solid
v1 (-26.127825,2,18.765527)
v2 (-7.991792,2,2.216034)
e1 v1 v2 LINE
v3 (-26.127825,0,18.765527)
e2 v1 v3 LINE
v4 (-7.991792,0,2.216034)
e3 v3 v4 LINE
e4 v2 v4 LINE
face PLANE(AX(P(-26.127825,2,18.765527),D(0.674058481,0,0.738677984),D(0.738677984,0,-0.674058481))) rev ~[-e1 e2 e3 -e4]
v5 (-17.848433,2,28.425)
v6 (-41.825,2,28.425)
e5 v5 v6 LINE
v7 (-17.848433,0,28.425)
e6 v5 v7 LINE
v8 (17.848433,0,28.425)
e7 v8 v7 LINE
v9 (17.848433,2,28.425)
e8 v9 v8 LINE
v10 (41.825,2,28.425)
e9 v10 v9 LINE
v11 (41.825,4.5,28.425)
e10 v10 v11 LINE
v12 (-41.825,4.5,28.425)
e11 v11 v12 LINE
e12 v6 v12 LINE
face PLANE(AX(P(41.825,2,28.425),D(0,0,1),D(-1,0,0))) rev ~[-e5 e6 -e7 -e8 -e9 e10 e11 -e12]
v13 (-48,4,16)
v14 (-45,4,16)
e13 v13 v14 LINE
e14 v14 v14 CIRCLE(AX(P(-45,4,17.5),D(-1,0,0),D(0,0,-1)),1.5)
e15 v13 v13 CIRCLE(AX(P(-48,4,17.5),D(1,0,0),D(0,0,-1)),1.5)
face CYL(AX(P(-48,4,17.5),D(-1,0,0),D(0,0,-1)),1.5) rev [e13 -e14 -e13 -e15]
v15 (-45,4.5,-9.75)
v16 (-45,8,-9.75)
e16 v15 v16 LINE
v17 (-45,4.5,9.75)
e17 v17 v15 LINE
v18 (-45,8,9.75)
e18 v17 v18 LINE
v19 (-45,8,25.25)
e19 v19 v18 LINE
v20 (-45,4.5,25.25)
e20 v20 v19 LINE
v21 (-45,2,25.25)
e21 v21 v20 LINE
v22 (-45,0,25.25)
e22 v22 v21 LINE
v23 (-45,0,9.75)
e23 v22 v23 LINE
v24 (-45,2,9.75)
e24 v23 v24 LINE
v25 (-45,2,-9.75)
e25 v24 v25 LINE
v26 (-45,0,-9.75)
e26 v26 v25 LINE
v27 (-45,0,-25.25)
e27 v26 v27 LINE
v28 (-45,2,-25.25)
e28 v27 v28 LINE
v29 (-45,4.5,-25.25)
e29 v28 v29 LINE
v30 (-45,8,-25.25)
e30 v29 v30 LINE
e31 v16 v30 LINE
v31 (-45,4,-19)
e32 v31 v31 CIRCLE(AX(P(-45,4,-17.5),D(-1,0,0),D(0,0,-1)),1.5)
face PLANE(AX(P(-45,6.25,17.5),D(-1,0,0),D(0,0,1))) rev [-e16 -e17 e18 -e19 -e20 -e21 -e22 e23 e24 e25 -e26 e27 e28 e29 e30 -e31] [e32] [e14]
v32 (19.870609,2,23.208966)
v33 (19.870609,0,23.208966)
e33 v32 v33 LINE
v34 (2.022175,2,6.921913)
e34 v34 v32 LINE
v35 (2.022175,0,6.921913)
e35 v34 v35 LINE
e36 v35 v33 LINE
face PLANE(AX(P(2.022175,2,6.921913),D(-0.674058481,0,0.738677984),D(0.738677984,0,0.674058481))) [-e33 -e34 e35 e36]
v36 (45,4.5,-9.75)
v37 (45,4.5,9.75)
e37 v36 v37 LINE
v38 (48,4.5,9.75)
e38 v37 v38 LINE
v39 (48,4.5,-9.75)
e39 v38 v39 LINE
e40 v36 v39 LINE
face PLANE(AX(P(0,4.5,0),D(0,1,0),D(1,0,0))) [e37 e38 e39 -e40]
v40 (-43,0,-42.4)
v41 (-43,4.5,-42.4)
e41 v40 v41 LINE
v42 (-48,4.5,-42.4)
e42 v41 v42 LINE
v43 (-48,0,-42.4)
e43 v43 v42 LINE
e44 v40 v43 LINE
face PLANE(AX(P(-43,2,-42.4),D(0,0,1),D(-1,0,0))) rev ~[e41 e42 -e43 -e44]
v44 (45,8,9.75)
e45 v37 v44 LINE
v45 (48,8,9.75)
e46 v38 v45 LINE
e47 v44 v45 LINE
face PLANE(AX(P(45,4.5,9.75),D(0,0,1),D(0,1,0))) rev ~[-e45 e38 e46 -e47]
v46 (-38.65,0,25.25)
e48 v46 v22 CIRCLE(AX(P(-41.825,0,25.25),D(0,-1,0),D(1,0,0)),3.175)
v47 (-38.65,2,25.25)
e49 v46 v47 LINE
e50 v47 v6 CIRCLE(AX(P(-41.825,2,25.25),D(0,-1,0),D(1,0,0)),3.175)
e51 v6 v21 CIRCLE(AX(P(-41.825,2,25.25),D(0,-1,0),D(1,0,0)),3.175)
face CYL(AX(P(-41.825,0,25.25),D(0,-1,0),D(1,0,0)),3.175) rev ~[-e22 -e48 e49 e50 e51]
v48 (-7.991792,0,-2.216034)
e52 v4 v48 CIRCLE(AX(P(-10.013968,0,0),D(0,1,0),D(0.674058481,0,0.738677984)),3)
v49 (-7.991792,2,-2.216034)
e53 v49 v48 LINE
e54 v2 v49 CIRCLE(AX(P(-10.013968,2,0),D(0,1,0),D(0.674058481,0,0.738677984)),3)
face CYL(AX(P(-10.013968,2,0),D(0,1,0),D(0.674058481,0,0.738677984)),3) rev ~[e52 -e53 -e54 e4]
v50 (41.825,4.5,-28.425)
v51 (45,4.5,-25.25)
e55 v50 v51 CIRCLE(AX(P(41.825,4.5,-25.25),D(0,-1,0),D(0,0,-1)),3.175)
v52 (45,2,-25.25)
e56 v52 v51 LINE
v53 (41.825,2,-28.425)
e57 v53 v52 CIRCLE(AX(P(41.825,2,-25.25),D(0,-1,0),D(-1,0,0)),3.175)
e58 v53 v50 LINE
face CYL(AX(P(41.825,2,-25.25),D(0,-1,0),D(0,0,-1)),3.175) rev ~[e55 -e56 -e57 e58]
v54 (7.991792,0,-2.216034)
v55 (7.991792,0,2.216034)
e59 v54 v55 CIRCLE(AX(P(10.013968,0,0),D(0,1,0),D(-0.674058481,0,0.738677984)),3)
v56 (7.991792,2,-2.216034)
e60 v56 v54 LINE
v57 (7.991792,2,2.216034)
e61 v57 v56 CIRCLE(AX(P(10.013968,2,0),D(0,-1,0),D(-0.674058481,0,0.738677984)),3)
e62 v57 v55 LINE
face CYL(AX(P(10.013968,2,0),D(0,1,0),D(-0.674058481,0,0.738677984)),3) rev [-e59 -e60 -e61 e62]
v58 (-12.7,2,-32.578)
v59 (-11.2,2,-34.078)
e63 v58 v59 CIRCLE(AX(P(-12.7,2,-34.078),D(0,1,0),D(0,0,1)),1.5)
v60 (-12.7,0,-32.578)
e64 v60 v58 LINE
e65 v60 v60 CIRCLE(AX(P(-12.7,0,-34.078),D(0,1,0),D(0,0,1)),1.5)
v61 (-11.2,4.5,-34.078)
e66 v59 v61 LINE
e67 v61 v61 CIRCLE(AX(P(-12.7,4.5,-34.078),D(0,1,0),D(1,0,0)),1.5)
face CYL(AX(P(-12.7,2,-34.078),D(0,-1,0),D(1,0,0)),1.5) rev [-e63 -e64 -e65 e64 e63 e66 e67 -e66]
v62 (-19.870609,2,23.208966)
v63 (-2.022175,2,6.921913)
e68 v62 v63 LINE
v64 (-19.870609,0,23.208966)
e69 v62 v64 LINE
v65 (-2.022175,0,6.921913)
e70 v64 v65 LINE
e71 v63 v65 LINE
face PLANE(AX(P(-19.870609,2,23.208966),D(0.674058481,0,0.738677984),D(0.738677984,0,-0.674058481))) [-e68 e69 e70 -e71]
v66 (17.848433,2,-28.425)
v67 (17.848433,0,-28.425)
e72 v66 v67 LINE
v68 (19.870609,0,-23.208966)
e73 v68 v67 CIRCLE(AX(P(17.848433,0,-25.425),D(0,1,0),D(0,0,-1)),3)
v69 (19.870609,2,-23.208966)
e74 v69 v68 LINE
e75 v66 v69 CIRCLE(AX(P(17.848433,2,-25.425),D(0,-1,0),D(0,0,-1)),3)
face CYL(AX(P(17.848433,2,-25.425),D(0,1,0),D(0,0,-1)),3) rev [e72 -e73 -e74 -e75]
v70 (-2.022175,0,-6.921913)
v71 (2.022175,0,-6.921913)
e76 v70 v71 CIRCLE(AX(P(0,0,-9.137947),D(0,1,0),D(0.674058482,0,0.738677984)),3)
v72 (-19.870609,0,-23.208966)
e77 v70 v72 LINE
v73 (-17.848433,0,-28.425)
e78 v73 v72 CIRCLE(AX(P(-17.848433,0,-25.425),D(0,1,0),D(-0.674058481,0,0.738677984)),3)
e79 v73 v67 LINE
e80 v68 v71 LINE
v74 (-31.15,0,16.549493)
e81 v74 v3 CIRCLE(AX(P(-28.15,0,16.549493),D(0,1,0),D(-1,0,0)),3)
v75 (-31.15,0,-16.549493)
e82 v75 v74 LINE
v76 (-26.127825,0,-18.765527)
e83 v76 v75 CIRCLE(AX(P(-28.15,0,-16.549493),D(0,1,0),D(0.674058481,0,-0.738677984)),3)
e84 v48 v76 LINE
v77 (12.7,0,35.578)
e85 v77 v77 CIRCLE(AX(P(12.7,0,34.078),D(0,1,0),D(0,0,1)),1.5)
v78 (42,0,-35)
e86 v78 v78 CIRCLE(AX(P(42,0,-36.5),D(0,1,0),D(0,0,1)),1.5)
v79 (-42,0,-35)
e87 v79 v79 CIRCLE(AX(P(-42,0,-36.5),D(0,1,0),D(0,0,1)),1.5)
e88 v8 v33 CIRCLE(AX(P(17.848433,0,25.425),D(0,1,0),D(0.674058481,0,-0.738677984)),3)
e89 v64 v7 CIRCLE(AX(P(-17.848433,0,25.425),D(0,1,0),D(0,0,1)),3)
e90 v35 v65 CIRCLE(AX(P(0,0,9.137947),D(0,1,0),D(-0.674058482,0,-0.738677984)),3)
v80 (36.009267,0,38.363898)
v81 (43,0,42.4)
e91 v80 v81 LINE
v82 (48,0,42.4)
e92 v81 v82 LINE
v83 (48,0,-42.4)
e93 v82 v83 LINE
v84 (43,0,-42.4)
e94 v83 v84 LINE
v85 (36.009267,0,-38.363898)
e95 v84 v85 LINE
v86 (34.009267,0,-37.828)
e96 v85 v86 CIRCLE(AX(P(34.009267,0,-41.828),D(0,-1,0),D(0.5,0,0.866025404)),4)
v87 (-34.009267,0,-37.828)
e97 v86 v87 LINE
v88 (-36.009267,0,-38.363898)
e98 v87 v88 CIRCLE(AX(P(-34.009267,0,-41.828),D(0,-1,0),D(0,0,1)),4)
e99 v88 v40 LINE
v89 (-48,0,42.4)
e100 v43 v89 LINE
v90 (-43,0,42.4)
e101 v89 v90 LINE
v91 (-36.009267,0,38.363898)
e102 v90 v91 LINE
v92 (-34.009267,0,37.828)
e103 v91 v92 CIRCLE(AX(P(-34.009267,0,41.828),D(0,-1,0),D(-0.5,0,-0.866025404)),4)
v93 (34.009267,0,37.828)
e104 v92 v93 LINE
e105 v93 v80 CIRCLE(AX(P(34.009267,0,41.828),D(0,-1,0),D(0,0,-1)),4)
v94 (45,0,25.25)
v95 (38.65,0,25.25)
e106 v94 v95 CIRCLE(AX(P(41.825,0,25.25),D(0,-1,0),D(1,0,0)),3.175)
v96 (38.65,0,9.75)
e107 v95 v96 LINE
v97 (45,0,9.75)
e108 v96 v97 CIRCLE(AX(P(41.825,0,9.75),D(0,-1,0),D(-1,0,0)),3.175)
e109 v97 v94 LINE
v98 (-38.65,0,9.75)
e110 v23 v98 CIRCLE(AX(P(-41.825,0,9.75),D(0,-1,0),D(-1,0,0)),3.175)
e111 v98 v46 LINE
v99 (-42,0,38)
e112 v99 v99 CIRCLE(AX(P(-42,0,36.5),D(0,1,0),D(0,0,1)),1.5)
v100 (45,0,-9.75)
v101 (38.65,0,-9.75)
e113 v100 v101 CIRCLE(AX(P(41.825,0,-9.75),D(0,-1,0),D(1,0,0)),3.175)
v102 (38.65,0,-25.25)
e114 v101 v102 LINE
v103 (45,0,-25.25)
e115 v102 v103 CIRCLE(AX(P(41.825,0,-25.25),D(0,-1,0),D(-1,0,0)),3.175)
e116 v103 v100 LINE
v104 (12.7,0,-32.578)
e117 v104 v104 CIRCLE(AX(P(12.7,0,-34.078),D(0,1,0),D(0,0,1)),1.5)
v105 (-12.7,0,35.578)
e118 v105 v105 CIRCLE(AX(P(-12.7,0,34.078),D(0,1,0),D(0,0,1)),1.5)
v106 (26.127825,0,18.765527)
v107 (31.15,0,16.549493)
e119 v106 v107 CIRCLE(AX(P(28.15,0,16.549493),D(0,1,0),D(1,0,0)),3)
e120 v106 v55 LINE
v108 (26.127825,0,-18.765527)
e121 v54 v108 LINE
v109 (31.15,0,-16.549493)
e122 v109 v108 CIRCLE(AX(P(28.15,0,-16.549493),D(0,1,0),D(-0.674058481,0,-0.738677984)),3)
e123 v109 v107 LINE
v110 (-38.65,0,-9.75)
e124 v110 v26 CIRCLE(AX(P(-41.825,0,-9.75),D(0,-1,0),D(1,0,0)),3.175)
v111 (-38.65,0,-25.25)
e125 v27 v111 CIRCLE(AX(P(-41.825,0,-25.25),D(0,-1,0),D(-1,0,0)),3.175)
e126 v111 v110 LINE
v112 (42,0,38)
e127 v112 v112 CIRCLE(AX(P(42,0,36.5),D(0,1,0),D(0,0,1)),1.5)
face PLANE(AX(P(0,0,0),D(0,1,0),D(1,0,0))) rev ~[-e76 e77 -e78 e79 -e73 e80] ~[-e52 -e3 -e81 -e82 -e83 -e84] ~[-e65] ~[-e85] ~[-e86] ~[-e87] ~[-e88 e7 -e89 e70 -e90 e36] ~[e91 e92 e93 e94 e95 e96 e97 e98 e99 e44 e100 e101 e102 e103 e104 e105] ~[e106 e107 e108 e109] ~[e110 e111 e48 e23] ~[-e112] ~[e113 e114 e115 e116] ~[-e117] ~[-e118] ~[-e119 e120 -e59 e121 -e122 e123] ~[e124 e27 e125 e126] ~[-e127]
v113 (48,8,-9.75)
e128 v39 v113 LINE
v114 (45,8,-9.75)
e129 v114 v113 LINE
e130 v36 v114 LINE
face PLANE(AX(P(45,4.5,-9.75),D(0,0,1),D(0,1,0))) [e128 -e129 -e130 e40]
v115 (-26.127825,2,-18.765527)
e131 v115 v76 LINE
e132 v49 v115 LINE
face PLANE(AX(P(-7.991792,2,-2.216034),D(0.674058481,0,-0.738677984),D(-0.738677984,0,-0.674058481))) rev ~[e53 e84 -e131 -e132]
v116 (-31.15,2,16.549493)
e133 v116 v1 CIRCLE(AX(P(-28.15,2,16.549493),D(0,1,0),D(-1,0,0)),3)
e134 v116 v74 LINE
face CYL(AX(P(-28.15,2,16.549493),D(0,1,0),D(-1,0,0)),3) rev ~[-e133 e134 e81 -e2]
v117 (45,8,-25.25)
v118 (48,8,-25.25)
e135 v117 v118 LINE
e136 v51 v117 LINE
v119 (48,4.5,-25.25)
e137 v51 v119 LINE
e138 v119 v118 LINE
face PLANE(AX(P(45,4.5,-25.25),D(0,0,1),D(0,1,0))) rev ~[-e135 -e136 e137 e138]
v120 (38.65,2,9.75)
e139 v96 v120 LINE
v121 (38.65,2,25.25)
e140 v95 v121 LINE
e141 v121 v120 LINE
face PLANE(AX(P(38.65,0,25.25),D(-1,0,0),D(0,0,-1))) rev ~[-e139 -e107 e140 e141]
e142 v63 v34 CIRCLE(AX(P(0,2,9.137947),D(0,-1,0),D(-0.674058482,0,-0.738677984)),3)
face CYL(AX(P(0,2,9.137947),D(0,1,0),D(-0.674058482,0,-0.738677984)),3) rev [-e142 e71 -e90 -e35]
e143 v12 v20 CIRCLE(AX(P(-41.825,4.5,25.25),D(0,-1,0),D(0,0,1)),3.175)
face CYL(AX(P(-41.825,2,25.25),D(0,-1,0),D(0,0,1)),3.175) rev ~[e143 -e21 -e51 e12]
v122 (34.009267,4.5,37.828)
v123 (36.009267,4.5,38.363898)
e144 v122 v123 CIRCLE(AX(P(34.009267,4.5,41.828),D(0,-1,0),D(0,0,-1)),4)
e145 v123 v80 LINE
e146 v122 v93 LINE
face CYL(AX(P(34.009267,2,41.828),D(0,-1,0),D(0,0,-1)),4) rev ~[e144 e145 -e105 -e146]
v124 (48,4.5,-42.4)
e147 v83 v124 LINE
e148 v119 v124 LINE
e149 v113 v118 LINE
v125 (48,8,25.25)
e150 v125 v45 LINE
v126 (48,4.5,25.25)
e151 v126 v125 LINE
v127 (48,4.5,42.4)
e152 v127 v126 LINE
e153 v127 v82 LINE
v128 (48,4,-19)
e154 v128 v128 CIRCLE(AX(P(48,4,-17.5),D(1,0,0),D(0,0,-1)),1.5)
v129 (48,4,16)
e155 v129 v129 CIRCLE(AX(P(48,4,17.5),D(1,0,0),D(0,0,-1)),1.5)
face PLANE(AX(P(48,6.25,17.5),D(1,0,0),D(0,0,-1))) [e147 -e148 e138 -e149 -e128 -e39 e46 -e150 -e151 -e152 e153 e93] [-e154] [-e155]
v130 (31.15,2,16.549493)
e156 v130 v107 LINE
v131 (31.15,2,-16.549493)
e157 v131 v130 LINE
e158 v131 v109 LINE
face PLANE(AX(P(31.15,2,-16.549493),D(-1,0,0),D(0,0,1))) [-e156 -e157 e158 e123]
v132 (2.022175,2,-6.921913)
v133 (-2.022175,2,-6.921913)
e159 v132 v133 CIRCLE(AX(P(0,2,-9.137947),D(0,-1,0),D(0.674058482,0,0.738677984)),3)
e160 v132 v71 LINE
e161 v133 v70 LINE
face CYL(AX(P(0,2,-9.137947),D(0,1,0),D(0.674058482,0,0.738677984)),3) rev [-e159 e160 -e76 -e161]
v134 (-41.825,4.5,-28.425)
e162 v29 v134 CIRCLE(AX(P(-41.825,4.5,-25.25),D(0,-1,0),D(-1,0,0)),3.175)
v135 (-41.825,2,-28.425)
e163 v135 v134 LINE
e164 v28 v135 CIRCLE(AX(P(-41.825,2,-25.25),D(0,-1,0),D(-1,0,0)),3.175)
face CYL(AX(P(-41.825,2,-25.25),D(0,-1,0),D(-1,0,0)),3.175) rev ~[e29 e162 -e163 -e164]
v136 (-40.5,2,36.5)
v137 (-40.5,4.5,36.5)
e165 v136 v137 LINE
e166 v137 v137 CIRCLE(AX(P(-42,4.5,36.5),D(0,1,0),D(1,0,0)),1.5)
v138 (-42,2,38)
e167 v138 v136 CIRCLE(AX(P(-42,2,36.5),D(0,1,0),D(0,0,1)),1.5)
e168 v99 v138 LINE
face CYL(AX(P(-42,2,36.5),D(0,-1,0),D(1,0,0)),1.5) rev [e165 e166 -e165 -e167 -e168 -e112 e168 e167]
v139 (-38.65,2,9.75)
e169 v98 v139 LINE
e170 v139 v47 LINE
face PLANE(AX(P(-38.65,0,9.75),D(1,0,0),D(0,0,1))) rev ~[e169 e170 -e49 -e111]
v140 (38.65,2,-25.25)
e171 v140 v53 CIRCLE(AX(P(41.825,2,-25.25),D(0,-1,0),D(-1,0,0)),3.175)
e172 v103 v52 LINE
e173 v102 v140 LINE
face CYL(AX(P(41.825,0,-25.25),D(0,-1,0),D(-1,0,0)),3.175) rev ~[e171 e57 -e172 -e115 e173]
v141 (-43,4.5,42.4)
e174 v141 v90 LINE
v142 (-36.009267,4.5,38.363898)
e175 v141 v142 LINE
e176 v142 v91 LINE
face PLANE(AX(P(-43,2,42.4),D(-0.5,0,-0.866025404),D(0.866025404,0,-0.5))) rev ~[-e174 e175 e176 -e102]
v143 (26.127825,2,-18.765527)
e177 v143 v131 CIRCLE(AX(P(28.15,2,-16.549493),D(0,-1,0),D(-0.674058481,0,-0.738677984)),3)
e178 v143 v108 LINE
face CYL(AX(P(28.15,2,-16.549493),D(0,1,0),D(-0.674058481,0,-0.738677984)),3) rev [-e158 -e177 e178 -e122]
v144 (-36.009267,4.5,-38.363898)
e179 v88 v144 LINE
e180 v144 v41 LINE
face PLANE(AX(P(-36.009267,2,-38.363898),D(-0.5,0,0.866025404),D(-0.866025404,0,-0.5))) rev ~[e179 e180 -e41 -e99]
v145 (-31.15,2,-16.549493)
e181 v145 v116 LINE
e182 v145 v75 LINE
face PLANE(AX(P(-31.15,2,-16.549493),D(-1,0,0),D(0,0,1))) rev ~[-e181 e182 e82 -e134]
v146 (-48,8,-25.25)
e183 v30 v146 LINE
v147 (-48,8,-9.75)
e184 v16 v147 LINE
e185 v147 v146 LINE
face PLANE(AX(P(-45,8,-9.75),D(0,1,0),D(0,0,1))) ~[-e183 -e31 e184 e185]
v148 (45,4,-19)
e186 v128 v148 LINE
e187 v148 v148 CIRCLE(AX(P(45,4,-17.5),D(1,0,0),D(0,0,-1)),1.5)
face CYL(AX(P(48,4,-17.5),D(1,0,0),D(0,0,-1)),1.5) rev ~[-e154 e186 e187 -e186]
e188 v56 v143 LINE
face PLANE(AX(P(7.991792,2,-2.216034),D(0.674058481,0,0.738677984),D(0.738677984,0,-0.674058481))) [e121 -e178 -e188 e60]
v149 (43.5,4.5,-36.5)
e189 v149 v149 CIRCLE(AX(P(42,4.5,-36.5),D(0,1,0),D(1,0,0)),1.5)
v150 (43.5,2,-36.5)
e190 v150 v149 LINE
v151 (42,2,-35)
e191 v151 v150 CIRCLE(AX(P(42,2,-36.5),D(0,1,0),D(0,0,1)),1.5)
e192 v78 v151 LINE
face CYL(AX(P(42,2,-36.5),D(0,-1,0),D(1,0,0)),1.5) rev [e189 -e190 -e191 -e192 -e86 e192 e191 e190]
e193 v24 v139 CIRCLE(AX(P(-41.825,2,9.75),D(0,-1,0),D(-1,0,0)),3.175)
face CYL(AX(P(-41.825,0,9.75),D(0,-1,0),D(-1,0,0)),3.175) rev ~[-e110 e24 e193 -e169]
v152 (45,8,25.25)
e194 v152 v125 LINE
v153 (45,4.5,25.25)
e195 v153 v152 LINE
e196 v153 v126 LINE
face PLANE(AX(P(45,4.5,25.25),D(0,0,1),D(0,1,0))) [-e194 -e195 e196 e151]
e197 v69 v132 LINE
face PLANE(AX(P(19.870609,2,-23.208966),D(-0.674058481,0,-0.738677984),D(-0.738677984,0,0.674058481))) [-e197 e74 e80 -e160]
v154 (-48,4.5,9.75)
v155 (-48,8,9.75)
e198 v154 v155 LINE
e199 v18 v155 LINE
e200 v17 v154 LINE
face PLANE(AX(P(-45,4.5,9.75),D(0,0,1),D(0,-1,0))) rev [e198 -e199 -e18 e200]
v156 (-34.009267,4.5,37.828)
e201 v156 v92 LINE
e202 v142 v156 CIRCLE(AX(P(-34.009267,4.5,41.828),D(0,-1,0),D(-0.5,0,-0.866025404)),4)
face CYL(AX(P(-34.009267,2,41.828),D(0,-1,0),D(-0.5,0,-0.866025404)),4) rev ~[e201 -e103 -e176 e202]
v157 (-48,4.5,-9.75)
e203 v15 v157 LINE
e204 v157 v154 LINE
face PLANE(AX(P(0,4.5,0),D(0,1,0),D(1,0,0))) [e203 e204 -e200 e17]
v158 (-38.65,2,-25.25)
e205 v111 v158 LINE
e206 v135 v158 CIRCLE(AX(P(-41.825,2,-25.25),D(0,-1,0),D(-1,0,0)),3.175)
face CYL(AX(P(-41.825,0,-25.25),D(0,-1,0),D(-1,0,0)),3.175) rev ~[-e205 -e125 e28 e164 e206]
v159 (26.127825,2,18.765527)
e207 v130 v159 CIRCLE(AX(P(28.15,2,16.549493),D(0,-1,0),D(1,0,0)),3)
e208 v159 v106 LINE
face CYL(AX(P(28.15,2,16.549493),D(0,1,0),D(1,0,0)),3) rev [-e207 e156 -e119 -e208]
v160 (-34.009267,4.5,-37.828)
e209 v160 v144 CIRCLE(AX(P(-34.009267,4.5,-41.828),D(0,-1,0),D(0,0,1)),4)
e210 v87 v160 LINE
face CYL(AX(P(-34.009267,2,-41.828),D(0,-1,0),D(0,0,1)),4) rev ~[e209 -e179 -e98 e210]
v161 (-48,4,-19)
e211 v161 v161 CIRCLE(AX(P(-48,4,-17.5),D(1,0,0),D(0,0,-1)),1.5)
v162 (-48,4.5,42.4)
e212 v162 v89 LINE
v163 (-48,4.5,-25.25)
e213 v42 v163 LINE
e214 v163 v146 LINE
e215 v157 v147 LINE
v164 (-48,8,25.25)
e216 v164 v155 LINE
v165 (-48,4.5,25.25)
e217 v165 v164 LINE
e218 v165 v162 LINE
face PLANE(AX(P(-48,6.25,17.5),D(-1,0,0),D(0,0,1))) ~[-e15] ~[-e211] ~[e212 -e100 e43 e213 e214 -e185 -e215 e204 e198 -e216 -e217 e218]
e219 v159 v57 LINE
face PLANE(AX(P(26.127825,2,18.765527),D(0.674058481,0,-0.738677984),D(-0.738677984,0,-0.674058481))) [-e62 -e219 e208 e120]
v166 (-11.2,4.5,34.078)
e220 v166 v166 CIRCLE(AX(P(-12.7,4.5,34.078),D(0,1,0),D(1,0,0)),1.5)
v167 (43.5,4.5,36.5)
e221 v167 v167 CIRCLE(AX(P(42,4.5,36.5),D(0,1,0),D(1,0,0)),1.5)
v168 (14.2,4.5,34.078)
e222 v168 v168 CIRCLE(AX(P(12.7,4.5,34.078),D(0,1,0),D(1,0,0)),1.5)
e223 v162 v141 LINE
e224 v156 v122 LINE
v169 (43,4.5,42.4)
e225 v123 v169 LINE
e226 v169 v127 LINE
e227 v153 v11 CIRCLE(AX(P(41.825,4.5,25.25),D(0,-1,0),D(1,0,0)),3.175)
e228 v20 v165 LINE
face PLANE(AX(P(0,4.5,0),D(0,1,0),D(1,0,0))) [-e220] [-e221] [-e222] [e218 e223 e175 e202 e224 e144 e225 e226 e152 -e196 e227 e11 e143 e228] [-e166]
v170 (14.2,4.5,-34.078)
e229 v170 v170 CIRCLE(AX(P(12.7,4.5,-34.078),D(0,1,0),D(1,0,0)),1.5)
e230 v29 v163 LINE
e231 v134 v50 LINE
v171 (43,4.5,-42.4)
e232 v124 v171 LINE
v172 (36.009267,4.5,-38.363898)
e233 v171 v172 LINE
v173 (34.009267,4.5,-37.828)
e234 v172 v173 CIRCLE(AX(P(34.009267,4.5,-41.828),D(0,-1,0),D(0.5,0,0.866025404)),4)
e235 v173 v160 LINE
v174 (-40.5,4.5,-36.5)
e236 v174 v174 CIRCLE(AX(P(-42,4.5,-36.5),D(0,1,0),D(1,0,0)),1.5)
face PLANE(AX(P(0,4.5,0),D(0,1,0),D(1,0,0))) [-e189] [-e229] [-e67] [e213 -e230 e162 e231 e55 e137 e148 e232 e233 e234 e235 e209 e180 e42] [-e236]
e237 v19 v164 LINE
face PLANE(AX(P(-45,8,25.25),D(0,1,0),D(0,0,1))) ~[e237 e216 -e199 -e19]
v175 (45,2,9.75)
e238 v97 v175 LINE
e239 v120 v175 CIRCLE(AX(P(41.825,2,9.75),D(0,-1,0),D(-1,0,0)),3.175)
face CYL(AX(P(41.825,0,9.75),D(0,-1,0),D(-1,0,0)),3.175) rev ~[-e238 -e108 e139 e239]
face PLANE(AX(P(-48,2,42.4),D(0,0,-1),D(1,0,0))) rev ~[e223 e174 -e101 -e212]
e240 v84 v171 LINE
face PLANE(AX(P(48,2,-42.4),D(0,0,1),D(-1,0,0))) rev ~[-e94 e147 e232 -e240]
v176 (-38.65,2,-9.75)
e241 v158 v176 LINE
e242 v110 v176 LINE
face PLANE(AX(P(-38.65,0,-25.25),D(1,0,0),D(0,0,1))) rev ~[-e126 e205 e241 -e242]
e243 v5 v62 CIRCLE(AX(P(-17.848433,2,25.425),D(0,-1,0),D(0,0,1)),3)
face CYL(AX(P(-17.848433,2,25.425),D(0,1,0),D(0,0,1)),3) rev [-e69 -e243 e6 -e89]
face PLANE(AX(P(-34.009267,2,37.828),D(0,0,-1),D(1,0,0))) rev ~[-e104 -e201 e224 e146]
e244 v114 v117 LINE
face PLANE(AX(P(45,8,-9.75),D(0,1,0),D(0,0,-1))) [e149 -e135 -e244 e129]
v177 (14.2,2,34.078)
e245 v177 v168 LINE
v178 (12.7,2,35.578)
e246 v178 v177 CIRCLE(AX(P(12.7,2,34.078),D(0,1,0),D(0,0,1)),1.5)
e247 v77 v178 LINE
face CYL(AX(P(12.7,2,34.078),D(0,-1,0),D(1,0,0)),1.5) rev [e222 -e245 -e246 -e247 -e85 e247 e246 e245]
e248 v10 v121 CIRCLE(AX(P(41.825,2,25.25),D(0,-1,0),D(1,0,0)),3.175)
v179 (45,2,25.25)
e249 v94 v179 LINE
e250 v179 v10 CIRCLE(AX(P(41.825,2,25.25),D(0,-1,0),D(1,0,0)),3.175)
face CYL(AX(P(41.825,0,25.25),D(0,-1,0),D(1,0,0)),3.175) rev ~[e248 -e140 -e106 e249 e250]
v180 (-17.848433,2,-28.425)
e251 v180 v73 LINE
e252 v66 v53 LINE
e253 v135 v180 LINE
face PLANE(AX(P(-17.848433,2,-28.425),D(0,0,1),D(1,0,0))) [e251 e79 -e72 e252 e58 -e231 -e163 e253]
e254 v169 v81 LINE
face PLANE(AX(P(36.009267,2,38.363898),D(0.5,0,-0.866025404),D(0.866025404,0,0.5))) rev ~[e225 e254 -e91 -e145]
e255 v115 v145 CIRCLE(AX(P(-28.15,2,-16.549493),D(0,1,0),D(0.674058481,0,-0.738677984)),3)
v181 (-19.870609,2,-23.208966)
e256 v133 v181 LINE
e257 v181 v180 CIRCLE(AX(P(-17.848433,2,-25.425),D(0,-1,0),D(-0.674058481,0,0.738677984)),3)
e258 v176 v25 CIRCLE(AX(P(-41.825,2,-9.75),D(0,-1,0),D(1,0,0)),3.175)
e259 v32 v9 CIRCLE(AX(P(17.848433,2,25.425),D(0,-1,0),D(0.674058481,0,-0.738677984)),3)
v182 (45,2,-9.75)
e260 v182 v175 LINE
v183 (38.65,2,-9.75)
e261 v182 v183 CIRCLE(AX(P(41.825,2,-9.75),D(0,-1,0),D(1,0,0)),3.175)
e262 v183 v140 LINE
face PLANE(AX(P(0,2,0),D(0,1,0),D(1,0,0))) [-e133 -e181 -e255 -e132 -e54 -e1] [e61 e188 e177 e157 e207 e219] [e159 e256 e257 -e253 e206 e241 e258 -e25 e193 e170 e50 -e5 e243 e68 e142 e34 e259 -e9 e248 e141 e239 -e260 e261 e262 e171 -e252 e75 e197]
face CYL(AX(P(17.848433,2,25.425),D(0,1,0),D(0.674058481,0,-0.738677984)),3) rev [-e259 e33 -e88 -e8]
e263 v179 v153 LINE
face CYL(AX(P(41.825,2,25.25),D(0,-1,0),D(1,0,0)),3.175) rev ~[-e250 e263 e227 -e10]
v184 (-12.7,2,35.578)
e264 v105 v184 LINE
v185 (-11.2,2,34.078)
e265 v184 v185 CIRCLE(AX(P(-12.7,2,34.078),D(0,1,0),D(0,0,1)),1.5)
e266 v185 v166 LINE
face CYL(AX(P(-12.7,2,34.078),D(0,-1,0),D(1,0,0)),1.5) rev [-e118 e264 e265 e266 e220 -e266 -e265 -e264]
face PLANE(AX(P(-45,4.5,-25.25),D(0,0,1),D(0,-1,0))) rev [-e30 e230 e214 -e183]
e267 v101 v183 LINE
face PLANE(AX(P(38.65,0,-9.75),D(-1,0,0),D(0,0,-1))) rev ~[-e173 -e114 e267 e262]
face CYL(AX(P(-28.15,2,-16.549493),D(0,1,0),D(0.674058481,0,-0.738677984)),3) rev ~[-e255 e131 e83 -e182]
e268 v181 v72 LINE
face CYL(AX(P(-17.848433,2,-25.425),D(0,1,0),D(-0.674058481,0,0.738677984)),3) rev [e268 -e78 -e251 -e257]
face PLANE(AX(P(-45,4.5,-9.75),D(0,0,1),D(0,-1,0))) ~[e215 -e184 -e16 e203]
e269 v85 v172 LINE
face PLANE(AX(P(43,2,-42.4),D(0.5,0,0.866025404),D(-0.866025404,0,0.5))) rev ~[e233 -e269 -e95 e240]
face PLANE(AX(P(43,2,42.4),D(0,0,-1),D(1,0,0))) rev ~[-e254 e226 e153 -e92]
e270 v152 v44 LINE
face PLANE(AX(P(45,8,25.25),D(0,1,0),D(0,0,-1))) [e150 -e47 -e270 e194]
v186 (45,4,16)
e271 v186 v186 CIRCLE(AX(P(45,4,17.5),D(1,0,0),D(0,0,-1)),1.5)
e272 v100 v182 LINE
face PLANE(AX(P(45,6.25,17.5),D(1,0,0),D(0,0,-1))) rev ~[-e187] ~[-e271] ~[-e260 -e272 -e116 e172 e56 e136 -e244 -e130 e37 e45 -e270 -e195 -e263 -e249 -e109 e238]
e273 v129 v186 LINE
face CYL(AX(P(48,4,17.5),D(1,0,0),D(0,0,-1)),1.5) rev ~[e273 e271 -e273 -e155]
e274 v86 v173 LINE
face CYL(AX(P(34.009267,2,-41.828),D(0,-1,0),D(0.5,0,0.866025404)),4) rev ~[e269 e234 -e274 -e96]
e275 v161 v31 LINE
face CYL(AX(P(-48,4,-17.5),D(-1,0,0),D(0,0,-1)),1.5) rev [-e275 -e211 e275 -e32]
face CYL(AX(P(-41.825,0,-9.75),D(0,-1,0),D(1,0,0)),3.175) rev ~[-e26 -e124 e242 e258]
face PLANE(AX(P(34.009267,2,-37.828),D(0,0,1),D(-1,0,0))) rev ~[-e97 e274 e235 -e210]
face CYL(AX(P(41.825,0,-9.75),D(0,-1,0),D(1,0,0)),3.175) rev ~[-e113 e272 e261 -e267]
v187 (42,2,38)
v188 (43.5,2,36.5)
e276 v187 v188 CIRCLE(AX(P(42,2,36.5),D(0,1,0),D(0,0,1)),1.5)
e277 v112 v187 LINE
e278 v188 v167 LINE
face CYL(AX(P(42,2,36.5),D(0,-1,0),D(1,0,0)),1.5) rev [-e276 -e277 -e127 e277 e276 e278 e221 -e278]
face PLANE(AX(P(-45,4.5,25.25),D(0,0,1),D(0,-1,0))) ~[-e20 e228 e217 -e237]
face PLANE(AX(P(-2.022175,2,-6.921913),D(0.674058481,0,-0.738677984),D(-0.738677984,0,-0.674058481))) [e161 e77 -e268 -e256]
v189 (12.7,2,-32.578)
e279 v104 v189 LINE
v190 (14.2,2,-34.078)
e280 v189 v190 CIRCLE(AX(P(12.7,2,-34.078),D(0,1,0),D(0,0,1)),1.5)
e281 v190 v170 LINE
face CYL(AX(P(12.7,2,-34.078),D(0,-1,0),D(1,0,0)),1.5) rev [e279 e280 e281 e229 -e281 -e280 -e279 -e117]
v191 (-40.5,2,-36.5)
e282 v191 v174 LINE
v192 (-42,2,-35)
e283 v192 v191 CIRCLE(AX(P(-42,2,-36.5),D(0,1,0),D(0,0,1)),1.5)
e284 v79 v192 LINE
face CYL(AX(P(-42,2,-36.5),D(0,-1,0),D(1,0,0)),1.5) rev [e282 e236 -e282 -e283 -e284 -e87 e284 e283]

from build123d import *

# Parameters (mm, degrees)
SKETCH1_R           = 1.5
BOSS_EXTRUDE1_DEPTH = 2
SKETCH2_R           = 1.5
BOSS_EXTRUDE2_DEPTH = 2.5
BOSS_EXTRUDE3_START = -3
SKETCH3_W           = 15.5
SKETCH3_H           = 3.5
BOSS_EXTRUDE3_DEPTH = 3
SKETCH4_R           = 1.5
CUT_EXTRUDE1_DEPTH  = 5
CUT_EXTRUDE2_DEPTH  = 65.325422657


with BuildPart() as part:
    # Sketch1 → Boss-Extrude1 (new body)
    with BuildSketch(Plane(origin=(0, 0, 0), x_dir=(1, 0, 0), z_dir=(0, 1, 0))):
        with BuildLine():
            Line((-48, -42.4), (-43, -42.4))
            Line((-43, -42.4), (-36.009266938, -38.363898385))
            ThreePointArc((-36.009266938, -38.363898385), (-35.044543118, -37.964296695), (-34.009266938, -37.828))
            Line((-34.009266938, -37.828), (34.009266938, -37.828))
            ThreePointArc((34.009266938, -37.828), (35.044543118, -37.964296695), (36.009266938, -38.363898385))
            Line((36.009266938, -38.363898385), (43, -42.4))
            Line((43, -42.4), (48, -42.4))
            Line((48, -42.4), (48, 42.4))
            Line((48, 42.4), (43, 42.4))
            Line((43, 42.4), (36.009266938, 38.363898385))
            ThreePointArc((36.009266938, 38.363898385), (35.044543118, 37.964296695), (34.009266938, 37.828))
            Line((34.009266938, 37.828), (-34.009266938, 37.828))
            ThreePointArc((-34.009266938, 37.828), (-35.044543118, 37.964296695), (-36.009266938, 38.363898385))
            Line((-36.009266938, 38.363898385), (-43, 42.4))
            Line((-43, 42.4), (-48, 42.4))
            Line((-48, 42.4), (-48, -42.4))
        make_face()
        with Locations(Location((-12.7, -34.078, 0), (0, 0, 270))):
            Circle(SKETCH1_R, mode=Mode.SUBTRACT)
        with Locations(Location((12.7, -34.078, 0), (0, 0, 270))):
            Circle(SKETCH1_R, mode=Mode.SUBTRACT)
        with Locations(Location((-12.7, 34.078, 0), (0, 0, 270))):
            Circle(SKETCH1_R, mode=Mode.SUBTRACT)
        with Locations(Location((12.7, 34.078, 0), (0, 0, 270))):
            Circle(SKETCH1_R, mode=Mode.SUBTRACT)
        with Locations(Location((-42, 36.5, 0), (0, 0, 270))):
            Circle(SKETCH1_R, mode=Mode.SUBTRACT)
        with Locations(Location((42, 36.5, 0), (0, 0, 270))):
            Circle(SKETCH1_R, mode=Mode.SUBTRACT)
        with Locations(Location((42, -36.5, 0), (0, 0, 270))):
            Circle(SKETCH1_R, mode=Mode.SUBTRACT)
        with Locations(Location((-42, -36.5, 0), (0, 0, 270))):
            Circle(SKETCH1_R, mode=Mode.SUBTRACT)
        with BuildLine():
            Line((-38.65, 25.25), (-38.65, 9.75))
            ThreePointArc((-38.65, 9.75), (-41.825, 6.575), (-45, 9.75))
            Line((-45, 9.75), (-45, 25.25))
            ThreePointArc((-45, 25.25), (-41.825, 28.425), (-38.65, 25.25))
        make_face(mode=Mode.SUBTRACT)
        with BuildLine():
            Line((-38.65, -9.75), (-38.65, -25.25))
            ThreePointArc((-38.65, -25.25), (-41.825, -28.425), (-45, -25.25))
            Line((-45, -25.25), (-45, -9.75))
            ThreePointArc((-45, -9.75), (-41.825, -6.575), (-38.65, -9.75))
        make_face(mode=Mode.SUBTRACT)
        with BuildLine():
            Line((45, 25.25), (45, 9.75))
            ThreePointArc((45, 9.75), (41.825, 6.575), (38.65, 9.75))
            Line((38.65, 9.75), (38.65, 25.25))
            ThreePointArc((38.65, 25.25), (41.825, 28.425), (45, 25.25))
        make_face(mode=Mode.SUBTRACT)
        with BuildLine():
            Line((45, -9.75), (45, -25.25))
            ThreePointArc((45, -25.25), (41.825, -28.425), (38.65, -25.25))
            Line((38.65, -25.25), (38.65, -9.75))
            ThreePointArc((38.65, -9.75), (41.825, -6.575), (45, -9.75))
        make_face(mode=Mode.SUBTRACT)
    extrude(amount=BOSS_EXTRUDE1_DEPTH)

    # Sketch2 → Boss-Extrude2 (add)
    with BuildSketch(Plane(origin=(0, 2, 0), x_dir=(1, 0, 0), z_dir=(0, 1, 0))):
        with BuildLine():
            Line((48, -42.4), (48, 42.4))
            Line((48, 42.4), (43, 42.4))
            Line((43, 42.4), (36.009266938, 38.363898385))
            ThreePointArc((36.009266938, 38.363898385), (35.044543118, 37.964296695), (34.009266938, 37.828))
            Line((34.009266938, 37.828), (-34.009266938, 37.828))
            ThreePointArc((-34.009266938, 37.828), (-35.044543118, 37.964296695), (-36.009266938, 38.363898385))
            Line((-36.009266938, 38.363898385), (-43, 42.4))
            Line((-43, 42.4), (-48, 42.4))
            Line((-48, 42.4), (-48, -42.4))
            Line((-48, -42.4), (-43, -42.4))
            Line((-43, -42.4), (-36.009266938, -38.363898385))
            ThreePointArc((-36.009266938, -38.363898385), (-35.044543118, -37.964296695), (-34.009266938, -37.828))
            Line((-34.009266938, -37.828), (34.009266938, -37.828))
            ThreePointArc((34.009266938, -37.828), (35.044543118, -37.964296695), (36.009266938, -38.363898385))
            Line((36.009266938, -38.363898385), (43, -42.4))
            Line((43, -42.4), (48, -42.4))
        make_face()
        with Locations((-42, -36.5)):
            Circle(SKETCH2_R, mode=Mode.SUBTRACT)
        with Locations((-12.7, -34.078)):
            Circle(SKETCH2_R, mode=Mode.SUBTRACT)
        with Locations((12.7, -34.078)):
            Circle(SKETCH2_R, mode=Mode.SUBTRACT)
        with Locations((42, -36.5)):
            Circle(SKETCH2_R, mode=Mode.SUBTRACT)
        with Locations((-42, 36.5)):
            Circle(SKETCH2_R, mode=Mode.SUBTRACT)
        with Locations((-12.7, 34.078)):
            Circle(SKETCH2_R, mode=Mode.SUBTRACT)
        with BuildLine():
            Line((45, 9.75), (45, -9.75))
            Line((45, -9.75), (45, -25.25))
            ThreePointArc((45, -25.25), (44.07006403, -27.49506403), (41.825, -28.425))
            Line((41.825, -28.425), (-41.825, -28.425))
            ThreePointArc((-41.825, -28.425), (-44.07006403, -27.49506403), (-45, -25.25))
            Line((-45, -25.25), (-45, -9.75))
            Line((-45, -9.75), (-45, 9.75))
            Line((-45, 9.75), (-45, 25.25))
            ThreePointArc((-45, 25.25), (-44.07006403, 27.49506403), (-41.825, 28.425))
            Line((-41.825, 28.425), (41.825, 28.425))
            ThreePointArc((41.825, 28.425), (44.07006403, 27.49506403), (45, 25.25))
            Line((45, 25.25), (45, 9.75))
        make_face(mode=Mode.SUBTRACT)
        with Locations((12.7, 34.078)):
            Circle(SKETCH2_R, mode=Mode.SUBTRACT)
        with Locations((42, 36.5)):
            Circle(SKETCH2_R, mode=Mode.SUBTRACT)
    extrude(amount=BOSS_EXTRUDE2_DEPTH)

    # Sketch3 → Boss-Extrude3 (add)
    with BuildSketch(Plane(origin=(48, 0, 0), x_dir=(0, 0, -1), z_dir=(1, 0, 0)).offset(BOSS_EXTRUDE3_START)):
        with Locations((-17.5, 6.25)):
            Rectangle(SKETCH3_W, SKETCH3_H)
        with Locations((17.5, 6.25)):
            Rectangle(SKETCH3_W, SKETCH3_H)
    boss_extrude3 = extrude(amount=BOSS_EXTRUDE3_DEPTH)

    # Sketch4 → Cut-Extrude1 (cut)
    with BuildSketch(Plane(origin=(48, 0, 0), x_dir=(0, 0, -1), z_dir=(1, 0, 0))):
        with Locations((-17.5, 4)):
            Circle(SKETCH4_R)
        with Locations((17.5, 4)):
            Circle(SKETCH4_R)
    cut_extrude1 = extrude(amount=-CUT_EXTRUDE1_DEPTH, mode=Mode.SUBTRACT)

    # Mirror1: Boss-Extrude3, Cut-Extrude1 across plane
    add(boss_extrude3.mirror(Plane(origin=(0, 0, 0), x_dir=(0, 0, 1), z_dir=(1, 0, 0))))
    add(cut_extrude1.mirror(Plane(origin=(0, 0, 0), x_dir=(0, 0, 1), z_dir=(1, 0, 0))), mode=Mode.SUBTRACT)

    # Sketch5 → Cut-Extrude2 (cut, through all)
    with BuildSketch(Plane(origin=(0, 2, 0), x_dir=(1, 0, 0), z_dir=(0, 1, 0))):
        with BuildLine():
            Line((-26.127824556, -18.76552712), (-7.991792465, -2.216033952))
            ThreePointArc((-7.991792465, -2.216033952), (-7.013967909, 0), (-7.991792465, 2.216033952))
            Line((-7.991792465, 2.216033952), (-26.127824556, 18.76552712))
            ThreePointArc((-26.127824556, 18.76552712), (-29.361089111, 19.294172233), (-31.15, 16.549493168))
            Line((-31.15, 16.549493168), (-31.15, -16.549493168))
            ThreePointArc((-31.15, -16.549493168), (-29.361089111, -19.294172233), (-26.127824556, -18.76552712))
        make_face()
        with BuildLine():
            Line((19.87060859, 23.208966048), (2.022175444, 6.921912688))
            ThreePointArc((2.022175444, 6.921912688), (0, 6.137946639), (-2.022175444, 6.921912688))
            Line((-2.022175444, 6.921912688), (-19.87060859, 23.208966048))
            ThreePointArc((-19.87060859, 23.208966048), (-20.645583648, 26.509411856), (-17.848433147, 28.425))
            Line((-17.848433147, 28.425), (17.848433147, 28.425))
            ThreePointArc((17.848433147, 28.425), (20.645583648, 26.509411856), (19.87060859, 23.208966048))
        make_face()
        with BuildLine():
            Line((-19.87060859, -23.208966048), (-2.022175444, -6.921912688))
            ThreePointArc((-2.022175444, -6.921912688), (0, -6.137946639), (2.022175444, -6.921912688))
            Line((2.022175444, -6.921912688), (19.87060859, -23.208966048))
            ThreePointArc((19.87060859, -23.208966048), (20.645583648, -26.509411856), (17.848433147, -28.425))
            Line((17.848433147, -28.425), (-17.848433147, -28.425))
            ThreePointArc((-17.848433147, -28.425), (-20.645583648, -26.509411856), (-19.87060859, -23.208966048))
        make_face()
        with BuildLine():
            Line((7.991792465, 2.216033952), (26.127824556, 18.76552712))
            ThreePointArc((26.127824556, 18.76552712), (29.361089111, 19.294172233), (31.15, 16.549493168))
            Line((31.15, 16.549493168), (31.15, -16.549493168))
            ThreePointArc((31.15, -16.549493168), (29.361089111, -19.294172233), (26.127824556, -18.76552712))
            Line((26.127824556, -18.76552712), (7.991792465, -2.216033952))
            ThreePointArc((7.991792465, -2.216033952), (7.013967909, 0), (7.991792465, 2.216033952))
        make_face()
    extrude(amount=-CUT_EXTRUDE2_DEPTH, mode=Mode.SUBTRACT)


solid = part.part
